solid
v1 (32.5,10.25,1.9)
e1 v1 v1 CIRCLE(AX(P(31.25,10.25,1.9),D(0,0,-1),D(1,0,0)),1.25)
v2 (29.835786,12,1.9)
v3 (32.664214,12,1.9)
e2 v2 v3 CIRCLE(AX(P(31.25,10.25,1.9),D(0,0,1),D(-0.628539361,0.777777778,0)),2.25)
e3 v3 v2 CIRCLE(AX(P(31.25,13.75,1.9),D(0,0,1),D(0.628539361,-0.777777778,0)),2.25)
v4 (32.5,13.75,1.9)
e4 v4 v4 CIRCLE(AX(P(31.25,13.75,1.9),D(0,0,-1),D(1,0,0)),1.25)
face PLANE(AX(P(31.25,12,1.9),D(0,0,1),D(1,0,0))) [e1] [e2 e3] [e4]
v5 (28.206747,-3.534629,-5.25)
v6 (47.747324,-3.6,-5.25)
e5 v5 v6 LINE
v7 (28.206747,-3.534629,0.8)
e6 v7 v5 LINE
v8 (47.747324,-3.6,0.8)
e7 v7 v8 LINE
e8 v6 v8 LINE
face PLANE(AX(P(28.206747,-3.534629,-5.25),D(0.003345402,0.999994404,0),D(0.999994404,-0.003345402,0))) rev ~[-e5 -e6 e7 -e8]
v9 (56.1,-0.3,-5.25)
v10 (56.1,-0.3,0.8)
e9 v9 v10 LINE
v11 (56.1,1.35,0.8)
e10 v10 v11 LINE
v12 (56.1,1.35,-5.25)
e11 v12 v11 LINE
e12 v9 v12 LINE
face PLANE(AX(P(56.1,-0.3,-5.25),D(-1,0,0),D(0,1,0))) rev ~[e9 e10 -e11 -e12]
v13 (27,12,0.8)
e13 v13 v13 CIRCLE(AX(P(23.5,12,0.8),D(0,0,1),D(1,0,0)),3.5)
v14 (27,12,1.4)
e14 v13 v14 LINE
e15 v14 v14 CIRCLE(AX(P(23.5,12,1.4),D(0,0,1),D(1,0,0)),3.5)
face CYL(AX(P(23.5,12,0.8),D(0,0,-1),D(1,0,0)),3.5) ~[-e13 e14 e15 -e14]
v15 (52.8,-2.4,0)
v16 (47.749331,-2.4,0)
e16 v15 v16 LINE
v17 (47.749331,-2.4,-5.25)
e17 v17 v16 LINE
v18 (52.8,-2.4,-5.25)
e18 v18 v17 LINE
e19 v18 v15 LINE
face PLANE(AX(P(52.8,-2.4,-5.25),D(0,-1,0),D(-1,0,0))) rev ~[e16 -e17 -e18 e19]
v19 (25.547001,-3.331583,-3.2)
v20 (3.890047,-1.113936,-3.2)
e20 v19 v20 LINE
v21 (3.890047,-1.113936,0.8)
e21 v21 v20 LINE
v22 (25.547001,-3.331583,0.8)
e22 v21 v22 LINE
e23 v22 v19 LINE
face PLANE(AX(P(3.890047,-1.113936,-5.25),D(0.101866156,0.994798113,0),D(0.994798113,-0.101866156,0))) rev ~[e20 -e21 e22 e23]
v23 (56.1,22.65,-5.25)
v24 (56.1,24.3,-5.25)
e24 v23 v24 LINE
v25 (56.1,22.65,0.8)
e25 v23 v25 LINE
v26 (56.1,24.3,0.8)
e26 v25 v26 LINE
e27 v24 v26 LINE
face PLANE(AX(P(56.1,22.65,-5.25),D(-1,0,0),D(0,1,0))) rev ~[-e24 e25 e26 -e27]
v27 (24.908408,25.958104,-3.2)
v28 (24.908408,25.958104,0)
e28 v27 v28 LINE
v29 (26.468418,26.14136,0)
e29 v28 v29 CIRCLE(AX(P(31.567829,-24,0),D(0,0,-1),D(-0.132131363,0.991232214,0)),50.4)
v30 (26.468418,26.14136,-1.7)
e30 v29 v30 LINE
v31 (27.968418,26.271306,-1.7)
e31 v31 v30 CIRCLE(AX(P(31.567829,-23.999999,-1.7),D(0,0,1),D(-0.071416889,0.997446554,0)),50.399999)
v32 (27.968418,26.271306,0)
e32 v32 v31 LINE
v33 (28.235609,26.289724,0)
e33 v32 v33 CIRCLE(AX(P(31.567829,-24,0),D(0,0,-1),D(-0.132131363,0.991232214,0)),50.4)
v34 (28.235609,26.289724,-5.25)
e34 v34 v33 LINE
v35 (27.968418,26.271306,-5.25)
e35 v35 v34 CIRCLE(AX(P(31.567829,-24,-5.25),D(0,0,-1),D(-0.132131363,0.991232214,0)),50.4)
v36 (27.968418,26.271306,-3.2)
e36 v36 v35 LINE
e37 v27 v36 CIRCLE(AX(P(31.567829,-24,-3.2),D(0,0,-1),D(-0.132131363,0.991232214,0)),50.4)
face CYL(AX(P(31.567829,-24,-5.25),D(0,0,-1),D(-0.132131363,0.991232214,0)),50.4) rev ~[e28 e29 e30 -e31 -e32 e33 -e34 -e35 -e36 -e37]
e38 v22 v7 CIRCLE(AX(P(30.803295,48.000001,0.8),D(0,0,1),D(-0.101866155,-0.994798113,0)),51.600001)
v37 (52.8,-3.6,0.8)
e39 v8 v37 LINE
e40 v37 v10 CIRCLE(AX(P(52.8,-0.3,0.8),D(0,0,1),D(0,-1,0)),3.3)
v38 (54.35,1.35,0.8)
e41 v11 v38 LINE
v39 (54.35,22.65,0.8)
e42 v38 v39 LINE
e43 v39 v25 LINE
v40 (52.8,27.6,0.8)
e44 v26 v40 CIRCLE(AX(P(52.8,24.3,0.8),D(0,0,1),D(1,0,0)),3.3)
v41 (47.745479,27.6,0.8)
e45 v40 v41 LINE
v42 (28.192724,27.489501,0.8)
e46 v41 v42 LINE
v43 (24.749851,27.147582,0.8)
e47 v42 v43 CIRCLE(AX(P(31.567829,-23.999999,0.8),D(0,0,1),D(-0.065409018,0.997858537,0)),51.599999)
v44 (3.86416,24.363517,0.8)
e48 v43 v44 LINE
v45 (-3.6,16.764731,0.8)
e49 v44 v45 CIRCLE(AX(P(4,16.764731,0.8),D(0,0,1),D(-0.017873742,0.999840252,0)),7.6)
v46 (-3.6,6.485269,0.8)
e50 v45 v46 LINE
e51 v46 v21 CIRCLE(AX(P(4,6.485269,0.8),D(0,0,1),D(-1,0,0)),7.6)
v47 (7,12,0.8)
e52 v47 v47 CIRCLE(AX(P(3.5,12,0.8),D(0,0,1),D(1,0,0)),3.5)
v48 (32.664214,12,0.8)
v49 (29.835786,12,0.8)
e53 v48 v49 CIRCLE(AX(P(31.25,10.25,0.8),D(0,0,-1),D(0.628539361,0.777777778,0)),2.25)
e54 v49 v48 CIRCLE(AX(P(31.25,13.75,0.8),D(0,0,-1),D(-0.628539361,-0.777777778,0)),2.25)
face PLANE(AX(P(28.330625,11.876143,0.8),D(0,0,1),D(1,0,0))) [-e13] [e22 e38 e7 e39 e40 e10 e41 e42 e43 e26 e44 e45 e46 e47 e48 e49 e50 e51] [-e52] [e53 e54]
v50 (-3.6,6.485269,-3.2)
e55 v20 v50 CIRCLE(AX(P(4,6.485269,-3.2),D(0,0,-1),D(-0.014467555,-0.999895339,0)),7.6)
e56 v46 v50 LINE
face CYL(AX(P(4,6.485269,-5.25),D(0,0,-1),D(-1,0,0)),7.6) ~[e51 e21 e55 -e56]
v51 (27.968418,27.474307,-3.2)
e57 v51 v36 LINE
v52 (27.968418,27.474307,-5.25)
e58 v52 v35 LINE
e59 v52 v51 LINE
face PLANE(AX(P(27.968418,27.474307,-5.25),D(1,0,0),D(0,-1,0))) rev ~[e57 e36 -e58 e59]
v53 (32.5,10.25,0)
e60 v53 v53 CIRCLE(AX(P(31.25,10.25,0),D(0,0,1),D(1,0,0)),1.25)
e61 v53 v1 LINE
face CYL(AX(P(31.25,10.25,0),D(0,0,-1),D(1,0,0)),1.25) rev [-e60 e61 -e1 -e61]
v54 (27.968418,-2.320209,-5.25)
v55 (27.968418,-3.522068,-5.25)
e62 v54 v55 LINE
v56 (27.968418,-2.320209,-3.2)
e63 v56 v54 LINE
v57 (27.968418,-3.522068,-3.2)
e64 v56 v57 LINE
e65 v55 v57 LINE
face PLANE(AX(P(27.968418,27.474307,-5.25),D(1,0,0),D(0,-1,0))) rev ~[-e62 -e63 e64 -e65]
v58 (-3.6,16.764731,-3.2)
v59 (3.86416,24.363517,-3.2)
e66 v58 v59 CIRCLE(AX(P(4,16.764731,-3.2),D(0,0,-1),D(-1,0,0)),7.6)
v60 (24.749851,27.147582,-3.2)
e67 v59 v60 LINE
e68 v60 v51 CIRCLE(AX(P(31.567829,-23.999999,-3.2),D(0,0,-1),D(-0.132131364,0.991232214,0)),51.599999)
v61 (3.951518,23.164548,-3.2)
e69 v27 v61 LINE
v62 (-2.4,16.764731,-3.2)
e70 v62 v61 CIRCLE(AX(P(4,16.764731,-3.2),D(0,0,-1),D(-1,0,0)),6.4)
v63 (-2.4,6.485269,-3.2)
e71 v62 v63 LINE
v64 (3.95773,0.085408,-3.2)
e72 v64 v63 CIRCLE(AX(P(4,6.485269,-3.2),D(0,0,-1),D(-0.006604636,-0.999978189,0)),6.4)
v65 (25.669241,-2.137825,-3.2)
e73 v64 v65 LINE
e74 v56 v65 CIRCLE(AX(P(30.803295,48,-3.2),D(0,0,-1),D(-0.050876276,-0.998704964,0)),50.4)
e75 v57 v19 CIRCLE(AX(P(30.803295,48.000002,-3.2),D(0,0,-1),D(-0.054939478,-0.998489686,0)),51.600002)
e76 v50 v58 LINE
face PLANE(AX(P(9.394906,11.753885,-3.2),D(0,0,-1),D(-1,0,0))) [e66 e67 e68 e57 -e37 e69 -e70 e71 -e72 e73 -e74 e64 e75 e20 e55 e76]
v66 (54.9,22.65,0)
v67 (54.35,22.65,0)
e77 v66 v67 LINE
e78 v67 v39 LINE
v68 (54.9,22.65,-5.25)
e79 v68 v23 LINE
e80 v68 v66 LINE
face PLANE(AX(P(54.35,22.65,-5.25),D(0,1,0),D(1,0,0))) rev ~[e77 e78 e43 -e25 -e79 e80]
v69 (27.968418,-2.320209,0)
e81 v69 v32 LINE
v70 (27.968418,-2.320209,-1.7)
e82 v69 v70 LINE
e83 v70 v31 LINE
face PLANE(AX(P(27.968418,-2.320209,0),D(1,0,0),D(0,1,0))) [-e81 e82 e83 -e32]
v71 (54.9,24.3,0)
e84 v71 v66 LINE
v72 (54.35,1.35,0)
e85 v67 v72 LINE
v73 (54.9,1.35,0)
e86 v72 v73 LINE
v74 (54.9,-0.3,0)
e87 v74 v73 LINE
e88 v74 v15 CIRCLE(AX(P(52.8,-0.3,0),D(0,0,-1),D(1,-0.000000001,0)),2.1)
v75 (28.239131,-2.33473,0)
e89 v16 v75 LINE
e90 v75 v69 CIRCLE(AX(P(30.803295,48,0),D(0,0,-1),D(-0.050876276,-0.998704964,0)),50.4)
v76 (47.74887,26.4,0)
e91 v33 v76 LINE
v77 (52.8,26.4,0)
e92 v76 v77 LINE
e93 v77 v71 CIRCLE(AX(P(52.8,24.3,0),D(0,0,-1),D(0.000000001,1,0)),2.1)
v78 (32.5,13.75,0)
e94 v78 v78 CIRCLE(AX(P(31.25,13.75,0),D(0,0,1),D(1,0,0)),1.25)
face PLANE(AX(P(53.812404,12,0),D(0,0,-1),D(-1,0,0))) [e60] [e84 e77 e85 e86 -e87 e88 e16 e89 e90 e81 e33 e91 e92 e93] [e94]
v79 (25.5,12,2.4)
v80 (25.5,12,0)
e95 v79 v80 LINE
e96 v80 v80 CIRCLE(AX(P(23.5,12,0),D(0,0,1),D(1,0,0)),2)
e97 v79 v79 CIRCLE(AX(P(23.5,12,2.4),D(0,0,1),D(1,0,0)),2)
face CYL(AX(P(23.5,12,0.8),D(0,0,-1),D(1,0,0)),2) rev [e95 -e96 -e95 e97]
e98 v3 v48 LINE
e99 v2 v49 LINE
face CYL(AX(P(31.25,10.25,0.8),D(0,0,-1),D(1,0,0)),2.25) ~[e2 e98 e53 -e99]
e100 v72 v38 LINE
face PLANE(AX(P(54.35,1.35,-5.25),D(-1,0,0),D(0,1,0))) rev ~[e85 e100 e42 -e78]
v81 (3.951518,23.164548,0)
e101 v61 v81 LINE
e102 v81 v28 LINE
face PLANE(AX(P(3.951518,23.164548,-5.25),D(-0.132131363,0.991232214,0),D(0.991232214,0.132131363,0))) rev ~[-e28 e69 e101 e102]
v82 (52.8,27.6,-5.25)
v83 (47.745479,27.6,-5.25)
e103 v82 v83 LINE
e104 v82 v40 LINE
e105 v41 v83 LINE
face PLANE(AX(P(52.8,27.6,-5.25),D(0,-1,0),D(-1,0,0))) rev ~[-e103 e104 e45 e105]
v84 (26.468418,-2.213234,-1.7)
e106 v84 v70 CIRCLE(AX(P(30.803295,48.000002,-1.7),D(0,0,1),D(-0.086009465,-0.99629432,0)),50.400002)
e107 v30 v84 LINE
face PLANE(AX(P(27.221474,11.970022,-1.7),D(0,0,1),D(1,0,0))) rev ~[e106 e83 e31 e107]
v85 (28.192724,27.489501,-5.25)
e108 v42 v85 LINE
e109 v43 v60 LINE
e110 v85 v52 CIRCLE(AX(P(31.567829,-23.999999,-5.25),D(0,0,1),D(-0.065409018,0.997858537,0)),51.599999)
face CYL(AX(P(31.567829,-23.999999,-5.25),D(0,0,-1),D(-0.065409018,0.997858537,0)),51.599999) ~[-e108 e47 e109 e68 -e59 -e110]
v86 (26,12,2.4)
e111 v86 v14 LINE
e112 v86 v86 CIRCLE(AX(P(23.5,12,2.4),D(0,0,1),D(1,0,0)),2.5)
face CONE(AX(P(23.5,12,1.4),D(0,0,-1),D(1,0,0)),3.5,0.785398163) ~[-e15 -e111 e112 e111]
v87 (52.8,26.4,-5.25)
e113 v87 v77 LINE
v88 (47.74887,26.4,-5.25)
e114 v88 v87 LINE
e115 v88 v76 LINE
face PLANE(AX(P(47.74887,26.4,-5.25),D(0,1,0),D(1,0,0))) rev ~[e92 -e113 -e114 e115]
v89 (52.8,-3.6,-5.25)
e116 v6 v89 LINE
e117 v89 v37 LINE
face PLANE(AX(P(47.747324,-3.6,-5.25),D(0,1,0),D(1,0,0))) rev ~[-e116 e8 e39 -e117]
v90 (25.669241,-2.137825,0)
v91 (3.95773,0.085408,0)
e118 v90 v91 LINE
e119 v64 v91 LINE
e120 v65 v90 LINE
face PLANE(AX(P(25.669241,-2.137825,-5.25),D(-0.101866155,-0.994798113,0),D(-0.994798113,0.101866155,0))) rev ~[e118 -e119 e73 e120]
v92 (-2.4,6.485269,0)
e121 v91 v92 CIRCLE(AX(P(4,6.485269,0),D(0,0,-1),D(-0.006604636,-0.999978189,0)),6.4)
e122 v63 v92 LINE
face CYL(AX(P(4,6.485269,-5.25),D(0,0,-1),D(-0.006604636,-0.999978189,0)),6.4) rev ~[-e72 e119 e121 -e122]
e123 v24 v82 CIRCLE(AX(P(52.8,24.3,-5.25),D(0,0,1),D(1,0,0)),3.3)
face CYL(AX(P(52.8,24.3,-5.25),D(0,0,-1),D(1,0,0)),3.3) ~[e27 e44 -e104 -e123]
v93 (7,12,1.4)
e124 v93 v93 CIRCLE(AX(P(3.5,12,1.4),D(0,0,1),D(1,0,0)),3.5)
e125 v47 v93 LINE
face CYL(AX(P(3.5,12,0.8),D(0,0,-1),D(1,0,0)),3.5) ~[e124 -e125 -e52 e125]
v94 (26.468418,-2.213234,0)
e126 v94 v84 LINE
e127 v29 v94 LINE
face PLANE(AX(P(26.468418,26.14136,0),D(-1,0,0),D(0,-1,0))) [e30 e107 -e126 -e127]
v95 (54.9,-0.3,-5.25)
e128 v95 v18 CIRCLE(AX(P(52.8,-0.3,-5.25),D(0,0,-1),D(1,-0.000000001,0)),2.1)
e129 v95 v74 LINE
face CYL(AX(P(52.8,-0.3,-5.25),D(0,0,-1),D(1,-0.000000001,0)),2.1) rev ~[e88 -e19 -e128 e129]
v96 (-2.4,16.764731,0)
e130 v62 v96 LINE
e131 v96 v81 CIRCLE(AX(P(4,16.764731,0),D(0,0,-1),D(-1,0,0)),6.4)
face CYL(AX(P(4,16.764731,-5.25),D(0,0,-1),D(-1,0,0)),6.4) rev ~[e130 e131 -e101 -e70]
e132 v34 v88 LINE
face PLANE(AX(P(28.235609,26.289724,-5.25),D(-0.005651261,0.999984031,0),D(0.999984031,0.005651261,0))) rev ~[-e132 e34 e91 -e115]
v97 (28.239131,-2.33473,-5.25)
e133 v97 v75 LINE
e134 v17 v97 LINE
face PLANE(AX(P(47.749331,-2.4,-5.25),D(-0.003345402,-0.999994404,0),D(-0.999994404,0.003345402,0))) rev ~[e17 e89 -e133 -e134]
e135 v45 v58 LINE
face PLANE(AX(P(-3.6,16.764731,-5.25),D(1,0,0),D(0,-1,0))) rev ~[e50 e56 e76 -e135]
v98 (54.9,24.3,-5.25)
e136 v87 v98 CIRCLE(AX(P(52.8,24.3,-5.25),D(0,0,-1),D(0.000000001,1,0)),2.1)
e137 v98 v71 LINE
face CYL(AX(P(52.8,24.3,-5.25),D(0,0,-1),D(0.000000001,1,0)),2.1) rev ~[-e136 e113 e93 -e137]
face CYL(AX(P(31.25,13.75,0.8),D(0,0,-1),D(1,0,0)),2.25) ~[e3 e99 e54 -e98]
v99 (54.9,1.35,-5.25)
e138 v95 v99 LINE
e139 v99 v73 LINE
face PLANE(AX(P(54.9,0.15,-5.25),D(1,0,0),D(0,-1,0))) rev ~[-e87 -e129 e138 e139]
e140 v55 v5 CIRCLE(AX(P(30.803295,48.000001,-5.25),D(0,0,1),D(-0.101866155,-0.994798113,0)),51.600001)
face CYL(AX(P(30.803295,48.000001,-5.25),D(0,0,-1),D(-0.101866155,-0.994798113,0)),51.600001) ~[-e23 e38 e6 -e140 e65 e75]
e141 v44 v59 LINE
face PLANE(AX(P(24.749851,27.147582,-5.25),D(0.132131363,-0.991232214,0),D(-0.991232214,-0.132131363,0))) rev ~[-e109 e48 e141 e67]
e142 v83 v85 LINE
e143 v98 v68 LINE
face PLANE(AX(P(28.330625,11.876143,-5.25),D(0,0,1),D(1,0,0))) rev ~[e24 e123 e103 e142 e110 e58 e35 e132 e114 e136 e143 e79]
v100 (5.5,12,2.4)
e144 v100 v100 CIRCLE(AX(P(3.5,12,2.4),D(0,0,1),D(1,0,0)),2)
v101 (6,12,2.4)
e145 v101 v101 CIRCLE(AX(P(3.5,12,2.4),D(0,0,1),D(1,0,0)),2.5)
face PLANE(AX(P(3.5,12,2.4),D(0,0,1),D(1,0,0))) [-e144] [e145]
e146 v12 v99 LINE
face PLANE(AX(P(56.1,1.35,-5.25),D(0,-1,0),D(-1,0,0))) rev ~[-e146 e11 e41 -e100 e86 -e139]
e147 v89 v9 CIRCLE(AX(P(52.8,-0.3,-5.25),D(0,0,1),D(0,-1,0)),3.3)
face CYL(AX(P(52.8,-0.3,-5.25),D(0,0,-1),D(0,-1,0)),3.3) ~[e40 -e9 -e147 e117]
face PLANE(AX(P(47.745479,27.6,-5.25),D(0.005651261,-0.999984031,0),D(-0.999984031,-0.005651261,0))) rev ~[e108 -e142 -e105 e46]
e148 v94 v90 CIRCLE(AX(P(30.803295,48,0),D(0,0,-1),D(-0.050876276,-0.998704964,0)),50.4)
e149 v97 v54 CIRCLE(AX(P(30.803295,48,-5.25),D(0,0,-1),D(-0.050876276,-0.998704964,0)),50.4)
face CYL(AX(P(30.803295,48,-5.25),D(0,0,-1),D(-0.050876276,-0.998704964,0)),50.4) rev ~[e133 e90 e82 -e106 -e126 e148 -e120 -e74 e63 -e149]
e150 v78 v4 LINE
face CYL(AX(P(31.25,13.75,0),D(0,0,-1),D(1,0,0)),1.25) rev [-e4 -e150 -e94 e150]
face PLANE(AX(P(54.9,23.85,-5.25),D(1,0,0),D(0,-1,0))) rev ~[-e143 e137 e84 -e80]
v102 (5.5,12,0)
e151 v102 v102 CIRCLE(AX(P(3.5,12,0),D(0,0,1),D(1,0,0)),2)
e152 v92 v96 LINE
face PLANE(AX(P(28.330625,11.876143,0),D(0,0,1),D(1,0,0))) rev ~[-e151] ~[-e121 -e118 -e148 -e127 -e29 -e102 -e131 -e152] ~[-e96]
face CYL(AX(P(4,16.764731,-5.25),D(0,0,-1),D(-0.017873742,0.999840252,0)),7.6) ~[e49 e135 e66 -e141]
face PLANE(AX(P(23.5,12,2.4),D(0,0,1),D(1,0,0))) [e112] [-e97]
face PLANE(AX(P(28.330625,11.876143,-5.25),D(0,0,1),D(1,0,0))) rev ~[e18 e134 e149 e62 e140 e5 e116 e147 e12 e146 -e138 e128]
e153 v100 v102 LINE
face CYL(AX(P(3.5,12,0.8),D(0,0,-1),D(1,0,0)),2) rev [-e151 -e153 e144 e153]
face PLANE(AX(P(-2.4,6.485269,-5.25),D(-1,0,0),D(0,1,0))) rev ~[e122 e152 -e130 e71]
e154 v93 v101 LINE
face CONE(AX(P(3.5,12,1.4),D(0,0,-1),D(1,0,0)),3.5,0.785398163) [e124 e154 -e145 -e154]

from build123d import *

# Parameters (mm, degrees)
SKETCH1_R           = 2
SKETCH1_R_2         = 1.25
BOSS_EXTRUDE1_DEPTH = 0.8
BOSS_EXTRUDE2_DEPTH = 1.7
BOSS_EXTRUDE5_START = -5.25
BOSS_EXTRUDE5_DEPTH = 5.25
CUT_EXTRUDE1_DEPTH  = 2.05
CUT_EXTRUDE2_DEPTH  = 5.25
SKETCH4_R           = 3.5
SKETCH4_R_2         = 2
SKETCH4_R_3         = 2.25
SKETCH4_R_4         = 1.25
BOSS_EXTRUDE6_DEPTH = 1.6
CHAMFER1_SIZE       = 1
CUT_EXTRUDE3_START  = -0.5
CUT_EXTRUDE3_DEPTH  = 0.5


with BuildPart() as part:
    # Sketch1 → Boss-Extrude1 (new body)
    with BuildSketch(Plane.XY):
        with BuildLine():
            Line((47.747323671, -3.6), (52.8, -3.6))
            ThreePointArc((52.8, -3.6), (55.133452378, -2.633452378), (56.1, -0.3))
            Line((56.1, -0.3), (56.1, 1.35))
            Line((56.1, 1.35), (54.35, 1.35))
            Line((54.35, 1.35), (54.35, 22.65))
            Line((54.35, 22.65), (56.1, 22.65))
            Line((56.1, 22.65), (56.1, 24.3))
            ThreePointArc((56.1, 24.3), (55.133452378, 26.633452378), (52.8, 27.6))
            Line((52.8, 27.6), (47.745478955, 27.6))
            Line((47.745478955, 27.6), (28.192723723, 27.48950052))
            ThreePointArc((28.192723723, 27.48950052), (26.4684207, 27.34740533), (24.749850743, 27.147582262))
            Line((24.749850743, 27.147582262), (3.864159561, 24.363517328))
            ThreePointArc((3.864159561, 24.363517328), (-1.421825677, 22.090499558), (-3.6, 16.764731413))
            Line((-3.6, 16.764731413), (-3.6, 6.485268587))
            ThreePointArc((-3.6, 6.485268587), (-1.412746343, 1.150273083), (3.890046585, -1.113935993))
            Line((3.890046585, -1.113935993), (25.547001239, -3.33158265))
            ThreePointArc((25.547001239, -3.33158265), (26.875561897, -3.450295565), (28.206747131, -3.534628551))
            Line((28.206747131, -3.534628551), (47.747323671, -3.6))
        make_face()
        with Locations((3.5, 12)):
            Circle(SKETCH1_R, mode=Mode.SUBTRACT)
        with Locations((23.5, 12)):
            Circle(SKETCH1_R, mode=Mode.SUBTRACT)
        with Locations((31.25, 13.75)):
            Circle(SKETCH1_R_2, mode=Mode.SUBTRACT)
        with Locations((31.25, 10.25)):
            Circle(SKETCH1_R_2, mode=Mode.SUBTRACT)
    extrude(amount=BOSS_EXTRUDE1_DEPTH)

    # Sketch1<3> → Boss-Extrude2 (add)
    with BuildSketch(Plane.XY):
        with BuildLine():
            Line((27.968417848, -1.919570033), (27.968417848, 25.870274099))
            ThreePointArc((27.968417848, 25.870274099), (27.217924724, 25.810423929), (26.468417848, 25.739280302))
            Line((26.468417848, 25.739280302), (26.468417848, -1.811733972))
            ThreePointArc((26.468417848, -1.811733972), (27.218012396, -1.871291838), (27.968417848, -1.919570033))
        make_face()
        with BuildLine():
            Line((27.968417848, -2.320209383), (27.968417848, -1.919570033))
            ThreePointArc((27.968417848, -1.919570033), (27.218012396, -1.871291838), (26.468417848, -1.811733972))
            Line((26.468417848, -1.811733972), (26.468417848, -2.213233726))
            ThreePointArc((26.468417848, -2.213233726), (27.21801884, -2.272316396), (27.968417848, -2.320209383))
        make_face()
        with BuildLine():
            ThreePointArc((26.468417848, 25.739280302), (27.217924724, 25.810423929), (27.968417848, 25.870274099))
            Line((27.968417848, 25.870274099), (27.968417848, 26.271306316))
            ThreePointArc((27.968417848, 26.271306316), (27.21793258, 26.21193484), (26.468417848, 26.141360223))
            Line((26.468417848, 26.141360223), (26.468417848, 25.739280302))
        make_face()
    extrude(amount=-BOSS_EXTRUDE2_DEPTH)

    # Sketch1<4> → Boss-Extrude5 (add)
    with BuildSketch(Plane.XY.offset(BOSS_EXTRUDE5_START)):
        with BuildLine():
            Line((28.206747131, -3.534628551), (47.747323671, -3.6))
            Line((47.747323671, -3.6), (52.8, -3.6))
            ThreePointArc((52.8, -3.6), (55.133452378, -2.633452378), (56.1, -0.3))
            Line((56.1, -0.3), (56.1, 1.35))
            Line((56.1, 1.35), (54.35, 1.35))
            Line((54.35, 1.35), (54.35, 22.65))
            Line((54.35, 22.65), (56.1, 22.65))
            Line((56.1, 22.65), (56.1, 24.3))
            ThreePointArc((56.1, 24.3), (55.133452378, 26.633452378), (52.8, 27.6))
            Line((52.8, 27.6), (47.745478955, 27.6))
            Line((47.745478955, 27.6), (28.192723723, 27.48950052))
            ThreePointArc((28.192723723, 27.48950052), (26.4684207, 27.34740533), (24.749850743, 27.147582262))
            Line((24.749850743, 27.147582262), (3.864159561, 24.363517328))
            ThreePointArc((3.864159561, 24.363517328), (-1.421825677, 22.090499558), (-3.6, 16.764731413))
            Line((-3.6, 16.764731413), (-3.6, 6.485268587))
            ThreePointArc((-3.6, 6.485268587), (-1.412746343, 1.150273083), (3.890046585, -1.113935993))
            Line((3.890046585, -1.113935993), (25.547001239, -3.33158265))
            ThreePointArc((25.547001239, -3.33158265), (26.875561897, -3.450295565), (28.206747131, -3.534628551))
        make_face()
        with BuildLine():
            Line((28.235609368, 26.289723719), (47.748869739, 26.4))
            Line((47.748869739, 26.4), (52.8, 26.4))
            ThreePointArc((52.8, 26.4), (54.28492424, 25.78492424), (54.9, 24.3))
            Line((54.9, 24.3), (54.9, 23.85))
            Line((54.9, 23.85), (53.15, 23.85))
            Line((53.15, 23.85), (53.15, 0.15))
            Line((53.15, 0.15), (54.9, 0.15))
            Line((54.9, 0.15), (54.9, -0.3))
            ThreePointArc((54.9, -0.3), (54.28492424, -1.78492424), (52.8, -2.4))
            Line((52.8, -2.4), (47.749330923, -2.4))
            Line((47.749330923, -2.4), (28.239130572, -2.334730172))
            ThreePointArc((28.239130572, -2.334730172), (26.952926693, -2.252708036), (25.669240626, -2.137824914))
            Line((25.669240626, -2.137824914), (3.957730332, 0.085408176))
            ThreePointArc((3.957730332, 0.085408176), (-0.540403389, 1.974754529), (-2.4, 6.485268587))
            Line((-2.4, 6.485268587), (-2.4, 16.764731413))
            ThreePointArc((-2.4, 16.764731413), (-0.542592126, 21.273041161), (3.951517744, 23.164547776))
            Line((3.951517744, 23.164547776), (24.908408379, 25.958103605))
            ThreePointArc((24.908408379, 25.958103605), (26.569258033, 26.151513311), (28.235609368, 26.289723719))
        make_face(mode=Mode.SUBTRACT)
    extrude(amount=BOSS_EXTRUDE5_DEPTH)

    # Sketch2 → Cut-Extrude1 (cut)
    with BuildSketch(Plane(origin=(0, 0, -5.25), x_dir=(-1, 0, 0), z_dir=(0, 0, -1))):
        with BuildLine():
            Line((-27.968417848, 27.474306588), (-27.968417848, 26.271306316))
            ThreePointArc((-27.968417848, 26.271306316), (-26.436023146, 26.138055085), (-24.908408379, 25.958103605))
            Line((-24.908408379, 25.958103605), (-3.951517744, 23.164547776))
            ThreePointArc((-3.951517744, 23.164547776), (0.542592126, 21.273041161), (2.4, 16.764731413))
            Line((2.4, 16.764731413), (2.4, 6.485268587))
            ThreePointArc((2.4, 6.485268587), (0.540403389, 1.974754529), (-3.957730332, 0.085408176))
            Line((-3.957730332, 0.085408176), (-25.669240626, -2.137824914))
            ThreePointArc((-25.669240626, -2.137824914), (-26.817785818, -2.24217071), (-27.968417848, -2.320209383))
            Line((-27.968417848, -2.320209383), (-27.968417848, -3.522067819))
            ThreePointArc((-27.968417848, -3.522067819), (-26.756588582, -3.441074719), (-25.547001239, -3.33158265))
            Line((-25.547001239, -3.33158265), (-3.890046585, -1.113935993))
            ThreePointArc((-3.890046585, -1.113935993), (1.412746343, 1.150273083), (3.6, 6.485268587))
            Line((3.6, 6.485268587), (3.6, 16.764731413))
            ThreePointArc((3.6, 16.764731413), (1.421825677, 22.090499558), (-3.864159561, 24.363517328))
            Line((-3.864159561, 24.363517328), (-24.749850743, 27.147582262))
            ThreePointArc((-24.749850743, 27.147582262), (-26.356573132, 27.336174491), (-27.968417848, 27.474306588))
        make_face()
        with BuildLine():
            ThreePointArc((-24.908408379, 25.958103605), (-26.436023146, 26.138055085), (-27.968417848, 26.271306316))
            Line((-27.968417848, 26.271306316), (-27.968417848, -2.320209383))
            ThreePointArc((-27.968417848, -2.320209383), (-26.817785818, -2.24217071), (-25.669240626, -2.137824914))
            Line((-25.669240626, -2.137824914), (-3.957730332, 0.085408176))
            ThreePointArc((-3.957730332, 0.085408176), (0.540403389, 1.974754529), (2.4, 6.485268587))
            Line((2.4, 6.485268587), (2.4, 16.764731413))
            ThreePointArc((2.4, 16.764731413), (0.542592126, 21.273041161), (-3.951517744, 23.164547776))
            Line((-3.951517744, 23.164547776), (-24.908408379, 25.958103605))
        make_face()
    extrude(amount=-CUT_EXTRUDE1_DEPTH, mode=Mode.SUBTRACT)

    # Sketch3 → Cut-Extrude2 (cut)
    with BuildSketch(Plane(origin=(0, 0, -5.25), x_dir=(-1, 0, 0), z_dir=(0, 0, -1))):
        Polygon((-53.15, 23.85), (-54.9, 23.85), (-54.9, 22.65), (-54.35, 22.65), (-54.35, 1.35), (-54.9, 1.35), (-54.9, 0.15), (-53.15, 0.15), align=None)
    extrude(amount=-CUT_EXTRUDE2_DEPTH, mode=Mode.SUBTRACT)

    # Sketch4 → Boss-Extrude6 (add)
    # profile 1 of 4: a face of its own
    with BuildSketch(Plane.XY.offset(0.8)):
        with Locations((3.5, 12)):
            Circle(SKETCH4_R)
        with Locations((3.5, 12)):
            Circle(SKETCH4_R_2, mode=Mode.SUBTRACT)
    # profile 2 of 4: a face of its own
    with BuildSketch(Plane.XY.offset(0.8)):
        with Locations((23.5, 12)):
            Circle(SKETCH4_R)
        with Locations((23.5, 12)):
            Circle(SKETCH4_R_2, mode=Mode.SUBTRACT)
    # profile 3 of 4: a face of its own
    with BuildSketch(Plane.XY.offset(0.8)):
        with Locations((31.25, 13.75)):
            Circle(SKETCH4_R_3)
        with Locations((31.25, 13.75)):
            Circle(SKETCH4_R_4, mode=Mode.SUBTRACT)
    # profile 4 of 4: a face of its own
    with BuildSketch(Plane.XY.offset(0.8)):
        with Locations((31.25, 10.25)):
            Circle(SKETCH4_R_3)
        with Locations((31.25, 10.25)):
            Circle(SKETCH4_R_4, mode=Mode.SUBTRACT)
    extrude(amount=BOSS_EXTRUDE6_DEPTH)

    # Chamfer1
    chamfer1_edges = [part.edges().sort_by_distance(p)[0] for p in [
        (0, 12, 2.4),
        (20, 12, 2.4),
    ]]
    chamfer(chamfer1_edges, length=CHAMFER1_SIZE)

    # Sketch5 → Cut-Extrude3 (cut)
    with BuildSketch(Plane.XY.offset(2.4).offset(CUT_EXTRUDE3_START)):
        with BuildLine():
            ThreePointArc((32.664213562, 12), (31.25, 16), (29.835786438, 12))
            ThreePointArc((29.835786438, 12), (31.25, 8), (32.664213562, 12))
        make_face()
    extrude(amount=CUT_EXTRUDE3_DEPTH, mode=Mode.SUBTRACT)


solid = part.part
